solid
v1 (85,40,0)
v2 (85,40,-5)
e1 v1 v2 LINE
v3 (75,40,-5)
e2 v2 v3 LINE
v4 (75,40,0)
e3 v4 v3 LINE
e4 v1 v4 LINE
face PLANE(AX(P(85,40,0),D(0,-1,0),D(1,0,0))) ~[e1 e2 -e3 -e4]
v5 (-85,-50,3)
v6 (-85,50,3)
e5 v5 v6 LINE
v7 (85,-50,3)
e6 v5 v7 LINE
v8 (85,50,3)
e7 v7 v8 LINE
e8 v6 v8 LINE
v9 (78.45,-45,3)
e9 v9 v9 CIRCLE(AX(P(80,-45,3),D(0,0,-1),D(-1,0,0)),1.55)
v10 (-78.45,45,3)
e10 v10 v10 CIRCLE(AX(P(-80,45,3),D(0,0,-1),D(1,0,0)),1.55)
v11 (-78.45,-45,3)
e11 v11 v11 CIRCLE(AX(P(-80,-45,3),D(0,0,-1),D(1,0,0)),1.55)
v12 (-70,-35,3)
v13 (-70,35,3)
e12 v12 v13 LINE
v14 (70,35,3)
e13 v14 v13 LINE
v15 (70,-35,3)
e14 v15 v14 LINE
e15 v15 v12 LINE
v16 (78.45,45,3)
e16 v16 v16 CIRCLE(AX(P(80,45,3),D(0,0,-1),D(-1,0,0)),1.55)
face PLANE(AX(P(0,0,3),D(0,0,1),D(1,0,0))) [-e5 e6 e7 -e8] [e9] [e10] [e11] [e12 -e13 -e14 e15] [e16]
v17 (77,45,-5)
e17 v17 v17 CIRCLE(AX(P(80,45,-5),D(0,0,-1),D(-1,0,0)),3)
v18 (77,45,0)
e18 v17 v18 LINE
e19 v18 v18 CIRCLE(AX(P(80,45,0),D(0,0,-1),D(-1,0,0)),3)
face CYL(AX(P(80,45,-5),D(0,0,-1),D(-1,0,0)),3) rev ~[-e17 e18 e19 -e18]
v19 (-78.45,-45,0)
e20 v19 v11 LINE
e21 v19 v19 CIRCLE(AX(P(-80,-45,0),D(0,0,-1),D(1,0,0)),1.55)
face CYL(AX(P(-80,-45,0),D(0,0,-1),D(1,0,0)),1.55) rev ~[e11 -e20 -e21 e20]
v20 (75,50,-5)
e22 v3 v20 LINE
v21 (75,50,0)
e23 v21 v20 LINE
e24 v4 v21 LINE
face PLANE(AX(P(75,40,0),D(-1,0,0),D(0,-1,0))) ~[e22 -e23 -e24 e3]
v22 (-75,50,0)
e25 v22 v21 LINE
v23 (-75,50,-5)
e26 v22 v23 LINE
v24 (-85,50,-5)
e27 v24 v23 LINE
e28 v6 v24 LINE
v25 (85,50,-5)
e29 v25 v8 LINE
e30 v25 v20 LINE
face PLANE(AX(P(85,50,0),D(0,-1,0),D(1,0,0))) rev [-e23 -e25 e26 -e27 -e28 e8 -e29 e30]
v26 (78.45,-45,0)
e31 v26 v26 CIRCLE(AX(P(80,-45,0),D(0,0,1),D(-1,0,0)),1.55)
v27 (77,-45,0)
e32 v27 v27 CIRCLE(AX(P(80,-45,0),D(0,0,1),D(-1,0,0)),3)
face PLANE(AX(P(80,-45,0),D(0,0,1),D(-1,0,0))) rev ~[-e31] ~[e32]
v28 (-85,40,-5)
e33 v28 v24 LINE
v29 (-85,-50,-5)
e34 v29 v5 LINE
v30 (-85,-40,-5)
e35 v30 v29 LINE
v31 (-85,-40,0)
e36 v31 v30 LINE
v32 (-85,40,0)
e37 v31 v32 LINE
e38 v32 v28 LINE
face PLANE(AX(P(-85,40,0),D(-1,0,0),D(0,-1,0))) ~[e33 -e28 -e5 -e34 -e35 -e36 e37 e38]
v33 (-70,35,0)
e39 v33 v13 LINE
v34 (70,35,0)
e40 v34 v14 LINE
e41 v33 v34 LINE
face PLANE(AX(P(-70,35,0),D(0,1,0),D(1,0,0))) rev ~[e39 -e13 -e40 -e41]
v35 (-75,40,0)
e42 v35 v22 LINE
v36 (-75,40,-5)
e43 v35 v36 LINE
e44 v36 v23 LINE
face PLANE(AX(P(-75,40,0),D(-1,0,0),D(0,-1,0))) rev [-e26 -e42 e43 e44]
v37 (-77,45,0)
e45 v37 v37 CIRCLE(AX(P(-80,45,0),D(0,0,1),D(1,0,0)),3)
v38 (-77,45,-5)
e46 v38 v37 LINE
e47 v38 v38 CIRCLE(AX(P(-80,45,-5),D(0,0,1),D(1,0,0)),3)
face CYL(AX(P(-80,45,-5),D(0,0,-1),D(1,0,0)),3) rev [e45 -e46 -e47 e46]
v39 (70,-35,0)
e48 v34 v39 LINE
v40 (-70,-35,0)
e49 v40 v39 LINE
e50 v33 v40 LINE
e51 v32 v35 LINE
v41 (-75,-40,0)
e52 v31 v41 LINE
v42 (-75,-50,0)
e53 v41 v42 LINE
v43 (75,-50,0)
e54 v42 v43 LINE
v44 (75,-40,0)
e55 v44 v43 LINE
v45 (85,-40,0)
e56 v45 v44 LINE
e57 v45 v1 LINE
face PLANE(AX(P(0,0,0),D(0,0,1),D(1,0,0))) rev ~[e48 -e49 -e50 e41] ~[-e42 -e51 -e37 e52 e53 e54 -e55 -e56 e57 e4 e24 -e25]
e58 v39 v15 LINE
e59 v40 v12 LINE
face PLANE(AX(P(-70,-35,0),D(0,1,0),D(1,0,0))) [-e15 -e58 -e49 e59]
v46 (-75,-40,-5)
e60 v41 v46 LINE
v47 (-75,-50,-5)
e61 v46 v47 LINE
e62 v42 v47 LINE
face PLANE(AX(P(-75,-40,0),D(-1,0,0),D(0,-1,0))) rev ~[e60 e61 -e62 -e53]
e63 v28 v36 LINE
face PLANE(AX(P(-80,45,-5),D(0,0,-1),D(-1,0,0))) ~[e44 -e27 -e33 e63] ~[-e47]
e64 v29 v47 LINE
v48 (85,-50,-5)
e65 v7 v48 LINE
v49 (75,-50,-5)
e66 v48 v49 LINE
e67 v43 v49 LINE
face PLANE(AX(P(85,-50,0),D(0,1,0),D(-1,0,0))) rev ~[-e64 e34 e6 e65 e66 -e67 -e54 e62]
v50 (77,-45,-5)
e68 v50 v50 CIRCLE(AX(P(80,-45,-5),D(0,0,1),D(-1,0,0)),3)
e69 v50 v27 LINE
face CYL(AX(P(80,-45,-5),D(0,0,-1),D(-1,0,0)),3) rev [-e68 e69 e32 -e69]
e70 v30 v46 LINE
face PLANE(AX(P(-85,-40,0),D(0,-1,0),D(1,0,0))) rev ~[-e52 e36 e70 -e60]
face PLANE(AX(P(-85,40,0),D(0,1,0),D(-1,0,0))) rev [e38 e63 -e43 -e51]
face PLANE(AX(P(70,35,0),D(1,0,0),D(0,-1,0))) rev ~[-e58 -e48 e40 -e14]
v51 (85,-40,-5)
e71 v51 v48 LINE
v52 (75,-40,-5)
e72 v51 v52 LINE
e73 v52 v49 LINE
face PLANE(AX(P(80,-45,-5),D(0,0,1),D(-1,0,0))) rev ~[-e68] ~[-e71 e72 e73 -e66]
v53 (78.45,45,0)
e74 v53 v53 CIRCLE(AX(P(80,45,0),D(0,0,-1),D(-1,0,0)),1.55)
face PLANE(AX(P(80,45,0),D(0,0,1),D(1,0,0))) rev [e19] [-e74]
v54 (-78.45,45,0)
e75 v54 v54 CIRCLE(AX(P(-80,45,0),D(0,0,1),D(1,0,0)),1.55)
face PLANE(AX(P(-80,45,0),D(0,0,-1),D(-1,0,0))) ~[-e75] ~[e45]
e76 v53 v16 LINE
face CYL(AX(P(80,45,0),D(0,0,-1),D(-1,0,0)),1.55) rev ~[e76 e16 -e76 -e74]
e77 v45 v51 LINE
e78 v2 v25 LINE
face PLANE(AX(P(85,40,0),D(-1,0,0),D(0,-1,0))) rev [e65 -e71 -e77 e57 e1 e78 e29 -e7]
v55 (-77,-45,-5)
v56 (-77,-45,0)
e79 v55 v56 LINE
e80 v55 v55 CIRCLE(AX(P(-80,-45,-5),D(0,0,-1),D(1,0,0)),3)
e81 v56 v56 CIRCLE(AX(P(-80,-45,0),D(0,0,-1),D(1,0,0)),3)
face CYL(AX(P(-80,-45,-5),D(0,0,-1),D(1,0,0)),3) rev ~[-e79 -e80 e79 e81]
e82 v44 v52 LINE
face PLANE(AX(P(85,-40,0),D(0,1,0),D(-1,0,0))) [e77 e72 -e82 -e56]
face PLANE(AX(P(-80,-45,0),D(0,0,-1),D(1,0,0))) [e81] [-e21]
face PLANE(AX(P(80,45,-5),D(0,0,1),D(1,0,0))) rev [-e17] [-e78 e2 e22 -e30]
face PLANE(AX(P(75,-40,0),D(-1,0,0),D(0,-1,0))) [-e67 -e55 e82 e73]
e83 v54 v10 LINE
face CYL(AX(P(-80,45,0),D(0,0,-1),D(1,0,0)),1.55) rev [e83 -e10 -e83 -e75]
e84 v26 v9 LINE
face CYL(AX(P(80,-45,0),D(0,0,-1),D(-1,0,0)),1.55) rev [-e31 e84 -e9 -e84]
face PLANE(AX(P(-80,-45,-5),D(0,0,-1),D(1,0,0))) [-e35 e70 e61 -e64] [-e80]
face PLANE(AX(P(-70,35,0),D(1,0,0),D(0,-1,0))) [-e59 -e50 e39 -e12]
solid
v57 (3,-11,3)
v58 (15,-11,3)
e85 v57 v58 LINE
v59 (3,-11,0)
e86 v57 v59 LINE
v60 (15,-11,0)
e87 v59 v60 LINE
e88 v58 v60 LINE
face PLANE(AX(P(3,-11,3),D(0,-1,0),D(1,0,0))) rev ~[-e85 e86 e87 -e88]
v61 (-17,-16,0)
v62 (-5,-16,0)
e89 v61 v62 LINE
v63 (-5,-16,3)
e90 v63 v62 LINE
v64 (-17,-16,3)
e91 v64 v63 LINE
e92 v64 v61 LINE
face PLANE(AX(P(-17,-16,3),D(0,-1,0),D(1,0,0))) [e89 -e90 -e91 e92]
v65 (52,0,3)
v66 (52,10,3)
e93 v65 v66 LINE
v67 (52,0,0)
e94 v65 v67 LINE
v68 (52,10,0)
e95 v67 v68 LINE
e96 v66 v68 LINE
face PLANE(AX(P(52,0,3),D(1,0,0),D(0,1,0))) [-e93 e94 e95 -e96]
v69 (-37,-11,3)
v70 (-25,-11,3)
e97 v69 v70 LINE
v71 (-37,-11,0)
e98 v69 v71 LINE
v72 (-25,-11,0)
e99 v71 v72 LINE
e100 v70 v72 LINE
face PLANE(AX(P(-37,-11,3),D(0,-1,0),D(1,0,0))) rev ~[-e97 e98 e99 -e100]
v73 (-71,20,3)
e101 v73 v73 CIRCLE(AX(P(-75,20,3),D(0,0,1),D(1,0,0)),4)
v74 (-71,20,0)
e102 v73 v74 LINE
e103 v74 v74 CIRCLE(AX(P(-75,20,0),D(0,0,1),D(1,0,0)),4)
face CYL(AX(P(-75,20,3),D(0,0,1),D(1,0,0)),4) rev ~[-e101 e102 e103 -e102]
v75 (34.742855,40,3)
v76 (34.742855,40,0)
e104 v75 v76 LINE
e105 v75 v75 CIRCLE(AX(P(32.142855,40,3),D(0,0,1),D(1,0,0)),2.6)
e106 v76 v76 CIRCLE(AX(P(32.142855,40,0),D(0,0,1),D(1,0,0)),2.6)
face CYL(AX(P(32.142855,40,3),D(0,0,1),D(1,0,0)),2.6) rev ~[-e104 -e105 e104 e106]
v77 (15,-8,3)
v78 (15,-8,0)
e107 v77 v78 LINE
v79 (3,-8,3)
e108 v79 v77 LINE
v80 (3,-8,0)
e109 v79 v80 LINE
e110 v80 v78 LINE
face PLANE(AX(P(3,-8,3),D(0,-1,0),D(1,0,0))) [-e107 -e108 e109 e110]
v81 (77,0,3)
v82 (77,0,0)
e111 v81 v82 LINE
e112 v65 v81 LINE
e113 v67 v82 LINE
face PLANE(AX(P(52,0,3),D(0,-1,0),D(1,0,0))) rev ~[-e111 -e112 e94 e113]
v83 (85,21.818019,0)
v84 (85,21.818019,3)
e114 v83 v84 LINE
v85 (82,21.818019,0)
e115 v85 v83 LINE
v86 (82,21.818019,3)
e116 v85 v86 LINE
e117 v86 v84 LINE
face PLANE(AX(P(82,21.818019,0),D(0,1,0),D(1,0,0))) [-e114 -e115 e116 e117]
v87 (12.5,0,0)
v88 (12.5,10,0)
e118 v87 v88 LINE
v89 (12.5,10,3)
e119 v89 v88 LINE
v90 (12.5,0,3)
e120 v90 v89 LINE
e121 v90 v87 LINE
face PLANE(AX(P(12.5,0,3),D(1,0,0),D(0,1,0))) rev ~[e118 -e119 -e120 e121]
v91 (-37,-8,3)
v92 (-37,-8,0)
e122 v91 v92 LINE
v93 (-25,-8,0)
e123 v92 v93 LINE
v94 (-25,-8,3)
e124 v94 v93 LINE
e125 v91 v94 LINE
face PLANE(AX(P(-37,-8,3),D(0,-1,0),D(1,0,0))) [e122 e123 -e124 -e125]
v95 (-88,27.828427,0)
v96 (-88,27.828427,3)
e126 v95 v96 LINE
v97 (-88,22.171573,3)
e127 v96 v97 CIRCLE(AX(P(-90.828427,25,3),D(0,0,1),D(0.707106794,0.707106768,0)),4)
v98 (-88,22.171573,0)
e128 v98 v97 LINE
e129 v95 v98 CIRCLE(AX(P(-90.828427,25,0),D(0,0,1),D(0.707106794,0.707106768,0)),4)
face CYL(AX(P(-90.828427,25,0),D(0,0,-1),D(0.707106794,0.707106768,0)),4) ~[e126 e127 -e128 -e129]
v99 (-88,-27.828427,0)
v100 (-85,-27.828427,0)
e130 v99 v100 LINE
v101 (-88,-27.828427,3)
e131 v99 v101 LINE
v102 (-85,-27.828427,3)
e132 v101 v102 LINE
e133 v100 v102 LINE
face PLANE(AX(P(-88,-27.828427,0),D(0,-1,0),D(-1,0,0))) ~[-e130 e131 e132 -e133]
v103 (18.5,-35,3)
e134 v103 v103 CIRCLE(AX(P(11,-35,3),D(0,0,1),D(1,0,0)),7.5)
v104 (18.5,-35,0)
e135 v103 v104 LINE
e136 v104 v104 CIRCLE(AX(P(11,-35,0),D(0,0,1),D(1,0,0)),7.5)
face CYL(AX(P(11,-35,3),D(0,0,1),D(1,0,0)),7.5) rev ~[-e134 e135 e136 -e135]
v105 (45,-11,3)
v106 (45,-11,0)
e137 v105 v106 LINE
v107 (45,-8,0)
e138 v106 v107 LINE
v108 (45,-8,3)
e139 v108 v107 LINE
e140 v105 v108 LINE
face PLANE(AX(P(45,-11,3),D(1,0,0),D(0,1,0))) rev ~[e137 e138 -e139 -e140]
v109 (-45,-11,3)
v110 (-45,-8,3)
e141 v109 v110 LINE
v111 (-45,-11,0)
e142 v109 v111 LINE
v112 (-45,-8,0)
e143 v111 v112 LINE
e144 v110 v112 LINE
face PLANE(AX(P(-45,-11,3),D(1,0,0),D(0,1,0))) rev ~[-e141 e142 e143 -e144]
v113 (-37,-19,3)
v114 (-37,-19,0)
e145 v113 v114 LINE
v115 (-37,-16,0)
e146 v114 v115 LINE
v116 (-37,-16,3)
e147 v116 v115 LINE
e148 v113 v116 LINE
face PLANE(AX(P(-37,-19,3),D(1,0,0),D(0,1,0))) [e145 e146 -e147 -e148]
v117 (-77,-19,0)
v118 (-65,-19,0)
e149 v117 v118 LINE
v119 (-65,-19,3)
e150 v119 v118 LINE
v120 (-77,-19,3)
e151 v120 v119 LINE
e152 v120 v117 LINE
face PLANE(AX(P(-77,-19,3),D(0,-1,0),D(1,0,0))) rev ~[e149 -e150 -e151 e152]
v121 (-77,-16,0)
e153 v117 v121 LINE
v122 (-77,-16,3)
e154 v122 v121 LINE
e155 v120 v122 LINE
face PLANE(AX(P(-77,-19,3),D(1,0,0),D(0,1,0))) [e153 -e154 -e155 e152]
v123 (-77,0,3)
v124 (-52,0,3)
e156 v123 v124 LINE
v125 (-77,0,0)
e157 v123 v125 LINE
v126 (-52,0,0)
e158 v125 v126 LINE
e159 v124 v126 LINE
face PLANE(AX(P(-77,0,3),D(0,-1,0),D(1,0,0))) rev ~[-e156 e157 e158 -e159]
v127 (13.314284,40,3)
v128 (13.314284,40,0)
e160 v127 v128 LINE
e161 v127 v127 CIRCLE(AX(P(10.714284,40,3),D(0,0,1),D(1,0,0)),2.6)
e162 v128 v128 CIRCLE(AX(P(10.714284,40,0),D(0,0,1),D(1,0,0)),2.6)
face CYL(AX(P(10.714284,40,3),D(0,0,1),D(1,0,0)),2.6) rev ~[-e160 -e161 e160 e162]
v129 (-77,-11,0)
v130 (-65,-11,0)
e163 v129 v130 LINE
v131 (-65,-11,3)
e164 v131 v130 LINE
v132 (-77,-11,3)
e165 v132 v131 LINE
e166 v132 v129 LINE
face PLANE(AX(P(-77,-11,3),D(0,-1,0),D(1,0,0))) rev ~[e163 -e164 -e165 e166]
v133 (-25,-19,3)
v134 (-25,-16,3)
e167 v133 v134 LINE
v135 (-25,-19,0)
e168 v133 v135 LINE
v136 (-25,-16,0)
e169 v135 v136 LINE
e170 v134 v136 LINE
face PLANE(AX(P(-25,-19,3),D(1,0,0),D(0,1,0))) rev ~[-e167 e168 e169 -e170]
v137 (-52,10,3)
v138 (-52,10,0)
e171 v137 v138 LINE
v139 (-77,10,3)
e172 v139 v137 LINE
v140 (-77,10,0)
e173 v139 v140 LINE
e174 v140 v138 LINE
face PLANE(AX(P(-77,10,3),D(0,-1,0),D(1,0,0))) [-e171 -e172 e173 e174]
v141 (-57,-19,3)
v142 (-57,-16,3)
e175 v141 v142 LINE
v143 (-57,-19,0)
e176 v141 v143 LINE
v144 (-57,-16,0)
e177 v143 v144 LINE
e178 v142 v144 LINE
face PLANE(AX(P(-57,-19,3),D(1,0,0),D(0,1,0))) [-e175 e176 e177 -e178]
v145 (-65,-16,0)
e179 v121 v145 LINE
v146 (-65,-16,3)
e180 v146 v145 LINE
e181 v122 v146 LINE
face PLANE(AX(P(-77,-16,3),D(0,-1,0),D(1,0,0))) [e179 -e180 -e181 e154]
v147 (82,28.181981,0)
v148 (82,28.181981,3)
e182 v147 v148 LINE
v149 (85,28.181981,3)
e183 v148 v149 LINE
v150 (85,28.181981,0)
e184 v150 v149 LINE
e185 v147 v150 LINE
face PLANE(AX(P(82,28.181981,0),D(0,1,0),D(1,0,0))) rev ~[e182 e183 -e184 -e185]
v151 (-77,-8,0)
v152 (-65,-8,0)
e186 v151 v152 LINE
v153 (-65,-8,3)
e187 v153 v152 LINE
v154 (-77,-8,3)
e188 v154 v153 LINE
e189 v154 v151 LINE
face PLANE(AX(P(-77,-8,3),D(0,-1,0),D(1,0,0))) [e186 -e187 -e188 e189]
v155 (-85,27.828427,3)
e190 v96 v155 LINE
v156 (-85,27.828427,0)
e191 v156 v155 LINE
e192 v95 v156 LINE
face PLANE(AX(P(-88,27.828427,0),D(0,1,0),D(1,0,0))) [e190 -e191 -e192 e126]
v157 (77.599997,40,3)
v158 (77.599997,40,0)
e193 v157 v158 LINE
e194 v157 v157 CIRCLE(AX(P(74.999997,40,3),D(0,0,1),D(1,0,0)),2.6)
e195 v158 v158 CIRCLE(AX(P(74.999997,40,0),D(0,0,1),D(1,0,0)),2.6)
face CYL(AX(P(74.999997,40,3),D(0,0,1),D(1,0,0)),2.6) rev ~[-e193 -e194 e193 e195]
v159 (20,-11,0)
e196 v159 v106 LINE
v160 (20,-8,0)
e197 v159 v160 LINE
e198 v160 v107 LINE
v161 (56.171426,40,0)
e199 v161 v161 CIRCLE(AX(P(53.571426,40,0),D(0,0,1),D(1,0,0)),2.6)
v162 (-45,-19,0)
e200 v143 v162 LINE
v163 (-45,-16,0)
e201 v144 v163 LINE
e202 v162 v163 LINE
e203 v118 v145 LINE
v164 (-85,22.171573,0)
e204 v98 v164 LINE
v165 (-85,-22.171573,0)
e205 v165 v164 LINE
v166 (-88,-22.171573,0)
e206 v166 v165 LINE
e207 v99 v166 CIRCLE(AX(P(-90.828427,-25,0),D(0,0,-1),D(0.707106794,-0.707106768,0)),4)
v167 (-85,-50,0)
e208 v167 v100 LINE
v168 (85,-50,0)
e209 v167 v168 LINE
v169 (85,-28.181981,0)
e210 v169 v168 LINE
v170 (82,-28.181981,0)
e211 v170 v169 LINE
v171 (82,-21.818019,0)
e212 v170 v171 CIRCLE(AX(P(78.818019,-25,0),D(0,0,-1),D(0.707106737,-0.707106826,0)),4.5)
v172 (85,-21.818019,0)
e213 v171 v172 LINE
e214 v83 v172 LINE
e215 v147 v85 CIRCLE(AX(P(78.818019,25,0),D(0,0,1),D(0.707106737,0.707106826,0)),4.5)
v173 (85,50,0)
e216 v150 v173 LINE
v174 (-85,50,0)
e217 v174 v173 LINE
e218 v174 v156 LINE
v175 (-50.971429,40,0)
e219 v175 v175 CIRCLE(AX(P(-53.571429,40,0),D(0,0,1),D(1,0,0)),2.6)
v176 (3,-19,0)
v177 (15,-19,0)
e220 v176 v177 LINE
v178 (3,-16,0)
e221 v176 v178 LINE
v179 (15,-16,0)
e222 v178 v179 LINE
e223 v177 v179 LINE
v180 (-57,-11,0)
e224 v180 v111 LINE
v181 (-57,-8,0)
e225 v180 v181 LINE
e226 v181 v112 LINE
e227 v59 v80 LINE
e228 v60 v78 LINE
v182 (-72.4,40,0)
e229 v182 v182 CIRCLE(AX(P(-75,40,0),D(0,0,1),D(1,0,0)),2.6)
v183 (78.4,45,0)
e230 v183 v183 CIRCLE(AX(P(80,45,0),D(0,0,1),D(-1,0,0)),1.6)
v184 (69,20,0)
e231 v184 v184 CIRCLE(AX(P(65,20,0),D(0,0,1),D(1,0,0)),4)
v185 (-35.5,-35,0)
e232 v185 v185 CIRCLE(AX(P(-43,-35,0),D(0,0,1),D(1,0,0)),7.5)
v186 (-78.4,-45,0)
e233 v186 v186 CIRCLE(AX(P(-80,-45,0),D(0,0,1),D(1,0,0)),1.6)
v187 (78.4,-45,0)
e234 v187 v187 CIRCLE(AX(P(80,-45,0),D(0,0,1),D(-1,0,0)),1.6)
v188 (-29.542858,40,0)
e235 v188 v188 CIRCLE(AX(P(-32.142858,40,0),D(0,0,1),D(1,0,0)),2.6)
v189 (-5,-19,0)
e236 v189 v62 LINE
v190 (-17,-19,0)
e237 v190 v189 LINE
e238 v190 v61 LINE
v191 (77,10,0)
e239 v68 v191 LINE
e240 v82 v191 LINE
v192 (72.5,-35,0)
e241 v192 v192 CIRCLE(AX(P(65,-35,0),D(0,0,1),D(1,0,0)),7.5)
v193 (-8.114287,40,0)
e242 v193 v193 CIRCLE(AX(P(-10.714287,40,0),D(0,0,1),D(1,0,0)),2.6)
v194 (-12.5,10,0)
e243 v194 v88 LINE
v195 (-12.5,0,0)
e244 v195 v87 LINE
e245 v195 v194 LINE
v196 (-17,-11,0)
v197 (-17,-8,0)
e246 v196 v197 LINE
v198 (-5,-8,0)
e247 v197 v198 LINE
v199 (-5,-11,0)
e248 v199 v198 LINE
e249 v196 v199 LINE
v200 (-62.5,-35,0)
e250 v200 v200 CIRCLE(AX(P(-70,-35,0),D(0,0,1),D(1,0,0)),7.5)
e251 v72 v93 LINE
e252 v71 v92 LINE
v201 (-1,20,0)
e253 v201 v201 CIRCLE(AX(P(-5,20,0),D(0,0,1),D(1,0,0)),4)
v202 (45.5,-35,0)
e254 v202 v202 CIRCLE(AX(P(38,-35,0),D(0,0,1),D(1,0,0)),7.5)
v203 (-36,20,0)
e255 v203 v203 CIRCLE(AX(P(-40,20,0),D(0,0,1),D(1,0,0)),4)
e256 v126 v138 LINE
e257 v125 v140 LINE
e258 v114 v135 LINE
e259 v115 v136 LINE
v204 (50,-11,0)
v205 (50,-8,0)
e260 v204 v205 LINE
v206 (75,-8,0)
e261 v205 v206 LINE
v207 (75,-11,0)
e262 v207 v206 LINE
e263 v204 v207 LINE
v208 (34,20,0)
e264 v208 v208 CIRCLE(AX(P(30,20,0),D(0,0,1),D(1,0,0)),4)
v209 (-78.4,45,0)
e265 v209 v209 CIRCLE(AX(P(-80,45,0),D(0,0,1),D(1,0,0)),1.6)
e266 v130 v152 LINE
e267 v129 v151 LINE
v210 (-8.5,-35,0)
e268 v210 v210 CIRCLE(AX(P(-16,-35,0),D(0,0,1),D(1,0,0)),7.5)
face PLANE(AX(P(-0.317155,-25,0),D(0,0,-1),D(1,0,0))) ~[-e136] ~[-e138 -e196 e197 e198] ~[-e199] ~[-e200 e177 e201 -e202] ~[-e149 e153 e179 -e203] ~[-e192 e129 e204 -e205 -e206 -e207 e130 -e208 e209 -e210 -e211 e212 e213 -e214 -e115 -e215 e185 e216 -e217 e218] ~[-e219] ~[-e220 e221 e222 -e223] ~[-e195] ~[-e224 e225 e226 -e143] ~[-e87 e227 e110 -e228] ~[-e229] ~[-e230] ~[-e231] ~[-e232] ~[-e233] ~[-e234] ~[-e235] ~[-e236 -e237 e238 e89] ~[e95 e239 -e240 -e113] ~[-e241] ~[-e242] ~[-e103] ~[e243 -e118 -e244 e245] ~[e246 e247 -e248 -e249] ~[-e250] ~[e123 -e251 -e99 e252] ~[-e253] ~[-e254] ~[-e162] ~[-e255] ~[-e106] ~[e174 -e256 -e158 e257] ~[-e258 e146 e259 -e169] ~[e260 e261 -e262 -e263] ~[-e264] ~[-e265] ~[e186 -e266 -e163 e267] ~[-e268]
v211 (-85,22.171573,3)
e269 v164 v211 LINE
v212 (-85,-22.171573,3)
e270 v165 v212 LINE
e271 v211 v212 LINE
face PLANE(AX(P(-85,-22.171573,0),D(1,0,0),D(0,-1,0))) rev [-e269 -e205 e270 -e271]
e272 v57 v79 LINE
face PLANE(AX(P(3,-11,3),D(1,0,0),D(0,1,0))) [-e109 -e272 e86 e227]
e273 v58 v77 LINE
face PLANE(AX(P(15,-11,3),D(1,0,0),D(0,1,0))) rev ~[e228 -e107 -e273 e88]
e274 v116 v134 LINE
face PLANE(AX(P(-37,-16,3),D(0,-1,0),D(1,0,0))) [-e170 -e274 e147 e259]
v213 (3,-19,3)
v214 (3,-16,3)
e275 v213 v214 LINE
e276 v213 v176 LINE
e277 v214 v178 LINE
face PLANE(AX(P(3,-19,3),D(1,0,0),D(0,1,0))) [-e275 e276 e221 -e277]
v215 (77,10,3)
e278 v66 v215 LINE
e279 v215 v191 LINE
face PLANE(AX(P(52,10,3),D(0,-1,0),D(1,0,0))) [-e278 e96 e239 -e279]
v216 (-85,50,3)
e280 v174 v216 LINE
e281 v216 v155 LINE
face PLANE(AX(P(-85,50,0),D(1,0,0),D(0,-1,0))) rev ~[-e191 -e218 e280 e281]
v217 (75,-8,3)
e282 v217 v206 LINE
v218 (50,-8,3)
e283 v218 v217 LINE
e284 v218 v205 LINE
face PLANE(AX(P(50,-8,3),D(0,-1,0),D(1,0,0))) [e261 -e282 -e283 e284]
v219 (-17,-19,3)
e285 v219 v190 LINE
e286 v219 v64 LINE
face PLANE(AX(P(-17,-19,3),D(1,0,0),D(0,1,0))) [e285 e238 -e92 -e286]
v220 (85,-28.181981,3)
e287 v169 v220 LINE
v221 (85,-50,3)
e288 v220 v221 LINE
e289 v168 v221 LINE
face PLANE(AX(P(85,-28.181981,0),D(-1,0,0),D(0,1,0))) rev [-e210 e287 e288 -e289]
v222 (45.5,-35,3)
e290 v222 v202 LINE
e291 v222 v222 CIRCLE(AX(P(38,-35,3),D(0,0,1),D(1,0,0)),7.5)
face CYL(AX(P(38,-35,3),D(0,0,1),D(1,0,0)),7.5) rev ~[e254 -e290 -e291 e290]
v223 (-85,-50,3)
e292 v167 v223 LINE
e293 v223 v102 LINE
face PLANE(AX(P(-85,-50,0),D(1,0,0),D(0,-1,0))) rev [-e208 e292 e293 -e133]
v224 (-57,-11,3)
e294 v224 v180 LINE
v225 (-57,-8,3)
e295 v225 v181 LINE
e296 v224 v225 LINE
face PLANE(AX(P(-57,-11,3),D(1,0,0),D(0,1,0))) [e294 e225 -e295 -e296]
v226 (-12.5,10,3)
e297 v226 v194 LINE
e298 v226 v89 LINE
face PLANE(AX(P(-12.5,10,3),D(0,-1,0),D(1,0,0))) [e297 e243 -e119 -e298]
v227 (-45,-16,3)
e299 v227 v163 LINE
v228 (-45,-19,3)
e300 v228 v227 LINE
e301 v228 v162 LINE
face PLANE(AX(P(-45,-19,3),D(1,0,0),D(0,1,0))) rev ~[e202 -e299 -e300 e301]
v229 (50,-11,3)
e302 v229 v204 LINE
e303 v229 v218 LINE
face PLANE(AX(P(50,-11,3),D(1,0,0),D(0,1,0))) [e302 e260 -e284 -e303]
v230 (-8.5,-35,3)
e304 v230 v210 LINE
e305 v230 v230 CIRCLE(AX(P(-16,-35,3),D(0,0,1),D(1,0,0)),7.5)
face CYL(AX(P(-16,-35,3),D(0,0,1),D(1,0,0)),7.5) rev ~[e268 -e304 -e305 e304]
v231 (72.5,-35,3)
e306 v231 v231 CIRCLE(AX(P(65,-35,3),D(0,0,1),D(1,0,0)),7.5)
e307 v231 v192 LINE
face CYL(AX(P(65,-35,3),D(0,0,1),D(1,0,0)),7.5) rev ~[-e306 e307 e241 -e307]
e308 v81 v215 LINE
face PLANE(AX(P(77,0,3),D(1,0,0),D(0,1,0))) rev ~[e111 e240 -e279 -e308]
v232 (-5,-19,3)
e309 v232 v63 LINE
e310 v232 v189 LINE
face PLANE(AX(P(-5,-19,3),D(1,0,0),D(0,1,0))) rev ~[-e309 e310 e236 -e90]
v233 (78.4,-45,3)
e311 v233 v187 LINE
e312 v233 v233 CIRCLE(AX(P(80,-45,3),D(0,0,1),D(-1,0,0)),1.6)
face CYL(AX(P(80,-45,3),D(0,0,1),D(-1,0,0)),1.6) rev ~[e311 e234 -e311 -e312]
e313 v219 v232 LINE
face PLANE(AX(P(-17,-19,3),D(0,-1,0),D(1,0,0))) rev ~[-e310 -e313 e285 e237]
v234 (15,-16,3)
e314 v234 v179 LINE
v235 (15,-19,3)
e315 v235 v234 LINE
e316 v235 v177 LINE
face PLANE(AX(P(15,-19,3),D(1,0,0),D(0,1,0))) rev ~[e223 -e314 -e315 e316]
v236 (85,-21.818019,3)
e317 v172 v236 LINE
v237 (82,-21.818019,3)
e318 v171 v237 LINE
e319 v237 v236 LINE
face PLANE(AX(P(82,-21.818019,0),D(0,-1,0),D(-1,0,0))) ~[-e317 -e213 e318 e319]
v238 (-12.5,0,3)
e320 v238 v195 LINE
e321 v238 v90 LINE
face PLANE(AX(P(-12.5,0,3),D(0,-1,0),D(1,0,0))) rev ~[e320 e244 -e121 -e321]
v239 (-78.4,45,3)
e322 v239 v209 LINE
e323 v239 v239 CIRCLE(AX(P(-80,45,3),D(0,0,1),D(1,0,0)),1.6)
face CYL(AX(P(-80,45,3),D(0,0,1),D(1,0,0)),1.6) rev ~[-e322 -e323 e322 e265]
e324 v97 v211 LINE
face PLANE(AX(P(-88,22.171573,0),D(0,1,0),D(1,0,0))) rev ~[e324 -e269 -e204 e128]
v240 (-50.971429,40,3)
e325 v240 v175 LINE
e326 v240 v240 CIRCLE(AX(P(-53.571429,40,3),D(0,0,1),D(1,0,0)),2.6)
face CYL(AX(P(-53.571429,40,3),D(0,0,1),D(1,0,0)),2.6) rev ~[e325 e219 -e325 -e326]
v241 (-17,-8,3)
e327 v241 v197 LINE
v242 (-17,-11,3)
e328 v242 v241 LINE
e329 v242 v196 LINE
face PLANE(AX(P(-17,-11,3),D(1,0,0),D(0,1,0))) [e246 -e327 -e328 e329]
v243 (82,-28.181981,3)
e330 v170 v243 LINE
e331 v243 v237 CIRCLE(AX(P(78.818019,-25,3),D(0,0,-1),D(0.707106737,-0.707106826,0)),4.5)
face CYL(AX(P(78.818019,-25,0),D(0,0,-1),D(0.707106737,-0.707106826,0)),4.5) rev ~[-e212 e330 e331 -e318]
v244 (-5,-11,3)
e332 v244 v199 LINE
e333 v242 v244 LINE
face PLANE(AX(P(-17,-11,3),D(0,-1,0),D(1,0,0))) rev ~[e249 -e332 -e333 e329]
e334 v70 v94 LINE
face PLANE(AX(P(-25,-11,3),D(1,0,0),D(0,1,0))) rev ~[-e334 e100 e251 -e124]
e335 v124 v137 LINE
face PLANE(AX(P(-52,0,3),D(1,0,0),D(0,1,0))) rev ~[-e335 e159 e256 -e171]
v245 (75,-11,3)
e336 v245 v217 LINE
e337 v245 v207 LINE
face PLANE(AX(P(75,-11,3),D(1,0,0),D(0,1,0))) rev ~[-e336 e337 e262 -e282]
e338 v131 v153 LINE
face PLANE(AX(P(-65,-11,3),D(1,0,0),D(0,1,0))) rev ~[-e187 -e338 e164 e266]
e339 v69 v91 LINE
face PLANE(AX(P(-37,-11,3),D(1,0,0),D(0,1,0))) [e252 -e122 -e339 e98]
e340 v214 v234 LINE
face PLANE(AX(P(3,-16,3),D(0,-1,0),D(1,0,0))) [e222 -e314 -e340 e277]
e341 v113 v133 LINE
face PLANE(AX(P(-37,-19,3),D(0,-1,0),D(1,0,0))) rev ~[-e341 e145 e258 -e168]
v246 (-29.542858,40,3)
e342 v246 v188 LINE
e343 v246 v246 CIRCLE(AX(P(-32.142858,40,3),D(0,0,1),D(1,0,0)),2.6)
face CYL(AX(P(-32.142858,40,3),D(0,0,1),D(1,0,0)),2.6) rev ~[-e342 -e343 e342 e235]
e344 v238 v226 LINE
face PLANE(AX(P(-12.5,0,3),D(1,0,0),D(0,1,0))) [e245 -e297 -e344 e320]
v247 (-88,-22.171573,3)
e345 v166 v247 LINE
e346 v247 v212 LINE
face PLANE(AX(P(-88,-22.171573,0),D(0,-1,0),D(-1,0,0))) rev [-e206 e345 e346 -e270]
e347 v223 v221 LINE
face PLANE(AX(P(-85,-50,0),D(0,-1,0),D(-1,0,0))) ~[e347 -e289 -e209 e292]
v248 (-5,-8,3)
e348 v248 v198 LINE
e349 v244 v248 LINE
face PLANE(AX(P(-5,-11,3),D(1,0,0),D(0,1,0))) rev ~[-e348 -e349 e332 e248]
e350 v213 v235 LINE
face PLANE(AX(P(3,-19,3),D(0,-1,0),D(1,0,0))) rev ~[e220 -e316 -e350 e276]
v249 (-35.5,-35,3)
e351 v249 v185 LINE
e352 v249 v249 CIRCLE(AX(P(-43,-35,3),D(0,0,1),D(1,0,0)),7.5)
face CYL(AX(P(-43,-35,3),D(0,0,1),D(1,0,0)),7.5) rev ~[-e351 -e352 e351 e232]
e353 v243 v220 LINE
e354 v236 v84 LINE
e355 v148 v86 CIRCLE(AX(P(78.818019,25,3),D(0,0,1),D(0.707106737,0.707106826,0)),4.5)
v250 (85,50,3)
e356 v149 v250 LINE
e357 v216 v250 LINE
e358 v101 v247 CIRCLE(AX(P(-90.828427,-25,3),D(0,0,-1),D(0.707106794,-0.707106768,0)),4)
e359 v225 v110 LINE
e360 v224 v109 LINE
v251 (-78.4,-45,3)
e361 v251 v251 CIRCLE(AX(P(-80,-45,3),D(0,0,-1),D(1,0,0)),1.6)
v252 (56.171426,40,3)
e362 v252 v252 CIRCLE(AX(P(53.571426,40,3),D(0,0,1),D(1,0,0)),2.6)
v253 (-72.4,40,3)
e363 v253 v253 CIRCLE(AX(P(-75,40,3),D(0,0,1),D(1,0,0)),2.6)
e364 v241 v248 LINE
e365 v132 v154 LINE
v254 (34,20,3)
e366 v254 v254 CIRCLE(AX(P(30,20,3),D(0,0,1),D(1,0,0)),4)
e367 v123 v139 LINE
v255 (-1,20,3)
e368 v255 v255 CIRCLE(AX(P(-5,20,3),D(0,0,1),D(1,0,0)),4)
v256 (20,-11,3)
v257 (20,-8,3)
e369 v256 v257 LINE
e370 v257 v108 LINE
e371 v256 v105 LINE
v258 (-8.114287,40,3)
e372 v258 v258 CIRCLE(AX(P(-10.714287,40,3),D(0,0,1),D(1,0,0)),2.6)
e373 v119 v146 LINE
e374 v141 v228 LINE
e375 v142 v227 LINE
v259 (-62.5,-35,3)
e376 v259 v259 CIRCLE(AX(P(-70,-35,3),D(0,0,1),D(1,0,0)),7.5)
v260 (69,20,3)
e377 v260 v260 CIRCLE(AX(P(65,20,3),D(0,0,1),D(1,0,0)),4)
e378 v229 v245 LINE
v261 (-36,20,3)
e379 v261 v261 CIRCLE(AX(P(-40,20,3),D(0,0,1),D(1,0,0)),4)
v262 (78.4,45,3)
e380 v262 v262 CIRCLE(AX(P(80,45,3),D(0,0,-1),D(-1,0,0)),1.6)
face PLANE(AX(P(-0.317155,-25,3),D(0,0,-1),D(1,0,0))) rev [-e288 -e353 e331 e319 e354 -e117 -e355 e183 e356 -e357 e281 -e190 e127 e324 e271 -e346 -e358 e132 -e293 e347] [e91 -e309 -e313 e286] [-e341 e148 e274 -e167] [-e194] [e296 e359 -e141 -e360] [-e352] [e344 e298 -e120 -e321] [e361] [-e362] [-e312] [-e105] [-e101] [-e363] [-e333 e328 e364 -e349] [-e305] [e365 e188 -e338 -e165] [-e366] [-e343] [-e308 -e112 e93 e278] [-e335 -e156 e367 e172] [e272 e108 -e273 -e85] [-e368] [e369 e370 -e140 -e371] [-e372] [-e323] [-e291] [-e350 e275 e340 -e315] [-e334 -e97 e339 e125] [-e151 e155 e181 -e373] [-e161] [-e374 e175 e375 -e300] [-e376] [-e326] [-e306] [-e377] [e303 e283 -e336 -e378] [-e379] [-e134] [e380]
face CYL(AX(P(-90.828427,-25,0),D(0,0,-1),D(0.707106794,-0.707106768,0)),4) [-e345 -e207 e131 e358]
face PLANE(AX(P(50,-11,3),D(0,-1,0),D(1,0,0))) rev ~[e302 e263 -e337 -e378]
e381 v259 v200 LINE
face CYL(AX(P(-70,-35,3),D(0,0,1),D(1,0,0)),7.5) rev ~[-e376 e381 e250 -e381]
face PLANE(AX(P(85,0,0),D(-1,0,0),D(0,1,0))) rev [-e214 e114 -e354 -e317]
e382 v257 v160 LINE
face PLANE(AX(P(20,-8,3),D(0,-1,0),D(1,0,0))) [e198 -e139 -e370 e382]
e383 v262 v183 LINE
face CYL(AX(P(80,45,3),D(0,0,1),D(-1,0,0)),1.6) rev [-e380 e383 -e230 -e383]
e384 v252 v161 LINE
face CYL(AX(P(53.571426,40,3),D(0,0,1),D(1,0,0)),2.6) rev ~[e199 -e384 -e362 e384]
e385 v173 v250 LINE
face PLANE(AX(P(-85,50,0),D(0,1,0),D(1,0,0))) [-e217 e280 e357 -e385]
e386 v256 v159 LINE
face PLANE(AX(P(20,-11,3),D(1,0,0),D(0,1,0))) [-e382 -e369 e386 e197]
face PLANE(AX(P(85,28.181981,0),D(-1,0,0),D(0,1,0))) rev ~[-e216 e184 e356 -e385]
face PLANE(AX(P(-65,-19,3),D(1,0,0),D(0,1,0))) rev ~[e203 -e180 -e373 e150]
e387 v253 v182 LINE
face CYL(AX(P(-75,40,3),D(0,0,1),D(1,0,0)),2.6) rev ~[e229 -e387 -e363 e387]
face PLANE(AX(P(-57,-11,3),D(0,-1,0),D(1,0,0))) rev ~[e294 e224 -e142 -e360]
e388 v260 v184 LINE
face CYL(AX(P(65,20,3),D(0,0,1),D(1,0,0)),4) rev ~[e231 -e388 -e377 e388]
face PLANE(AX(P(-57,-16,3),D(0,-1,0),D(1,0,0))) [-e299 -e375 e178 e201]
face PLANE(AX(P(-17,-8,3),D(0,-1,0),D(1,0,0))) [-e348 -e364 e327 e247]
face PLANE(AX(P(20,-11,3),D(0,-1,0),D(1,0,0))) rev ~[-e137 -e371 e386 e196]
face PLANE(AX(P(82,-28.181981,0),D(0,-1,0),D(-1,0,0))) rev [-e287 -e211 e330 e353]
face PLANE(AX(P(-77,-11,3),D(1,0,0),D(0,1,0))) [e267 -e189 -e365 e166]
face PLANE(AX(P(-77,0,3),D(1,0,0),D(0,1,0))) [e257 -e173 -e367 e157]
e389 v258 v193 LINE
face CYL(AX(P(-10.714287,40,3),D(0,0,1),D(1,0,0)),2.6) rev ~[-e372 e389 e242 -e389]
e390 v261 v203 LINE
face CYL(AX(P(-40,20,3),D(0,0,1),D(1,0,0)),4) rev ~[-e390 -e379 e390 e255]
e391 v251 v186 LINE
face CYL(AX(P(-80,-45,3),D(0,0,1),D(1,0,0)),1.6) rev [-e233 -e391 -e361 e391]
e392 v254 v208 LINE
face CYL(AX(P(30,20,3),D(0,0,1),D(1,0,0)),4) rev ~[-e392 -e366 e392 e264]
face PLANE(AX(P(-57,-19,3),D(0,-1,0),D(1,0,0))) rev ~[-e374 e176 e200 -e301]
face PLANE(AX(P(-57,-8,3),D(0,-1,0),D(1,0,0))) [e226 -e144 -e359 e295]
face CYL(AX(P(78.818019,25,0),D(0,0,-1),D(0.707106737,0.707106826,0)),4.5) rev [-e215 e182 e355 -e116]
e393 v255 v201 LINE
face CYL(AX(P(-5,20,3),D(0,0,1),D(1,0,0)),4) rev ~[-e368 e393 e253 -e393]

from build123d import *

# Parameters (mm, degrees)
PAD_DEPTH                          = 3
SKETCH011_R                        = 1.6
POCKET_DEPTH                       = 414.570013
SKETCH011_MIRRORED009_2_R          = 1.6
POCKET_MIRRORED009_2_DEPTH         = 414.570013
SKETCH012_R                        = 2.6
POCKET008_DEPTH                    = 3.001
LINEARPATTERN_COUNT                = 8
LINEARPATTERN_PITCH                = 21.428571
SKETCH013_R                        = 4
POCKET009_DEPTH                    = 3.001
LINEARPATTERN001_COUNT             = 5
LINEARPATTERN001_PITCH             = 35
SKETCH014_R                        = 7.5
POCKET010_DEPTH                    = 3.001
LINEARPATTERN002_COUNT             = 6
LINEARPATTERN002_PITCH             = 27
SKETCH015_W                        = 12
SKETCH015_H                        = 3
POCKET011_DEPTH                    = 3.001
LINEARPATTERN003_COUNT             = 5
LINEARPATTERN003_PITCH             = 20
SKETCH016_W                        = 25
SKETCH016_H                        = 10
POCKET012_DEPTH                    = 3.001
LINEARPATTERN004_COUNT             = 3
LINEARPATTERN004_PITCH             = 64.5
SKETCH017_W                        = 25
SKETCH017_H                        = 3
POCKET013_DEPTH                    = 414.570013
LINEARPATTERN005_COUNT             = 2
LINEARPATTERN005_PITCH             = 30
SKETCH007_W                        = 170
SKETCH007_H                        = 100
PAD001_DEPTH                       = 3
SKETCH008_R                        = 1.55
POCKET006_DEPTH                    = 397.508288
POCKET006_DEPTH_BACK               = -394.508288
SKETCH008_MIRRORED003_2_R          = 1.55
POCKET006_MIRRORED003_2_DEPTH      = 397.508288
POCKET006_MIRRORED003_2_DEPTH_BACK = 394.508288
SKETCH009_W                        = 10
SKETCH009_H                        = 10
PAD002_DEPTH                       = 5
SKETCH009_MIRRORED005_2_W          = 10
SKETCH009_MIRRORED005_2_H          = 10
PAD002_MIRRORED005_2_DEPTH         = 5
SKETCH010_R                        = 3
POCKET007_DEPTH                    = 5
SKETCH010_MIRRORED007_2_R          = 3
POCKET007_MIRRORED007_2_DEPTH      = 5
SKETCH018_W                        = 140
SKETCH018_H                        = 70
POCKET014_DEPTH                    = 3.001


with BuildPart() as up:
    # Sketch → Pad (new body)
    with BuildSketch(Plane.XY):
        with BuildLine():
            Line((-85, 50), (85, 50))
            Line((85, 28.181981), (85, 50))
            Line((82, 28.181981), (85, 28.181981))
            ThreePointArc((82, 28.181981), (74.318019, 25), (82, 21.818019))
            Line((82, 21.818019), (85, 21.818019))
            Line((85, 0), (85, 21.818019))
            Line((85, 0), (-85, 0))
            Line((-85, 22.171573), (-85, 0))
            Line((-88, 22.171573), (-85, 22.171573))
            ThreePointArc((-88, 27.828427), (-94.828427, 25), (-88, 22.171573))
            Line((-88, 27.828427), (-85, 27.828427))
            Line((-85, 50), (-85, 27.828427))
        make_face()
    pad = extrude(amount=PAD_DEPTH)

    # Mirrored: Pad across Sketch H_Axis
    add(pad.mirror(Plane.ZX))

    # Sketch011 (on Face1 of Copyrefine) → Pocket (cut, through all)
    with BuildSketch(Plane.XY.offset(3)):
        with Locations((-80, 45)):
            Circle(SKETCH011_R)
    pocket = extrude(amount=-POCKET_DEPTH, mode=Mode.SUBTRACT)

    # Sketch011 Mirrored009 2 → Pocket Mirrored009 2 (cut, through all)
    with BuildSketch(Plane(origin=(0, 0, 3), x_dir=(-1, 0, 0), z_dir=(0, 0, -1))):
        with Locations((-80, 45)):
            Circle(SKETCH011_MIRRORED009_2_R)
    pocket_mirrored009_2 = extrude(amount=POCKET_MIRRORED009_2_DEPTH, mode=Mode.SUBTRACT)

    # Mirrored010: Pocket, Pocket Mirrored009 2 across Sketch011 H_Axis
    add(pocket.mirror(Plane(origin=(0, 0, 3), x_dir=(0, 0, 1), z_dir=(0, 1, 0))), mode=Mode.SUBTRACT)
    add(pocket_mirrored009_2.mirror(Plane(origin=(0, 0, 3), x_dir=(0, 0, 1), z_dir=(0, 1, 0))), mode=Mode.SUBTRACT)

    # Sketch012 (on Face5 of MultiTransform) → Pocket008 (cut, through all)
    with BuildSketch(Plane.XY.offset(3)):
        with Locations((-75, 40)):
            Circle(SKETCH012_R)
    pocket008 = extrude(amount=-POCKET008_DEPTH, mode=Mode.SUBTRACT)

    # LinearPattern: Pocket008 ×8
    with Locations(*[(i * LINEARPATTERN_PITCH, 0, 0) for i in range(1, LINEARPATTERN_COUNT)]):
        add(pocket008, mode=Mode.SUBTRACT)

    # Sketch013 (on Face5 of LinearPattern) → Pocket009 (cut, through all)
    with BuildSketch(Plane.XY.offset(3)):
        with Locations((-75, 20)):
            Circle(SKETCH013_R)
    pocket009 = extrude(amount=-POCKET009_DEPTH, mode=Mode.SUBTRACT)

    # LinearPattern001: Pocket009 ×5
    with Locations(*[(i * LINEARPATTERN001_PITCH, 0, 0) for i in range(1, LINEARPATTERN001_COUNT)]):
        add(pocket009, mode=Mode.SUBTRACT)

    # Sketch014 (on Face30 of LinearPattern001) → Pocket010 (cut, through all)
    with BuildSketch(Plane.XY.offset(3)):
        with Locations((-70, -35)):
            Circle(SKETCH014_R)
    pocket010 = extrude(amount=-POCKET010_DEPTH, mode=Mode.SUBTRACT)

    # LinearPattern002: Pocket010 ×6
    with Locations(*[(i * LINEARPATTERN002_PITCH, 0, 0) for i in range(1, LINEARPATTERN002_COUNT)]):
        add(pocket010, mode=Mode.SUBTRACT)

    # Sketch015 (on Face30 of LinearPattern002) → Pocket011 (cut, through all)
    with BuildSketch(Plane.XY.offset(3)):
        with Locations((-71, -9.5)):
            Rectangle(SKETCH015_W, SKETCH015_H)
        with Locations((-71, -17.5)):
            Rectangle(SKETCH015_W, SKETCH015_H)
    pocket011 = extrude(amount=-POCKET011_DEPTH, mode=Mode.SUBTRACT)

    # LinearPattern003: Pocket011 ×5
    with Locations(*[(i * LINEARPATTERN003_PITCH, 0, 0) for i in range(1, LINEARPATTERN003_COUNT)]):
        add(pocket011, mode=Mode.SUBTRACT)

    # Sketch016 (on Face5 of LinearPattern003) → Pocket012 (cut, through all)
    with BuildSketch(Plane.XY.offset(3)):
        with Locations((-64.5, 5)):
            Rectangle(SKETCH016_W, SKETCH016_H)
    pocket012 = extrude(amount=-POCKET012_DEPTH, mode=Mode.SUBTRACT)

    # LinearPattern004: Pocket012 ×3
    with Locations(*[(i * LINEARPATTERN004_PITCH, 0, 0) for i in range(1, LINEARPATTERN004_COUNT)]):
        add(pocket012, mode=Mode.SUBTRACT)

    # Sketch017 (on Face39 of LinearPattern004) → Pocket013 (cut, through all)
    with BuildSketch(Plane.XY.offset(3)):
        with Locations((32.5, -9.5)):
            Rectangle(SKETCH017_W, SKETCH017_H)
    pocket013 = extrude(amount=-POCKET013_DEPTH, mode=Mode.SUBTRACT)

    # LinearPattern005: Pocket013 ×2
    with Locations(*[(i * LINEARPATTERN005_PITCH, 0, 0) for i in range(1, LINEARPATTERN005_COUNT)]):
        add(pocket013, mode=Mode.SUBTRACT)


with BuildPart() as down:
    # Sketch007 → Pad001 (new body)
    with BuildSketch(Plane.XY):
        Rectangle(SKETCH007_W, SKETCH007_H)
    extrude(amount=PAD001_DEPTH)

    # Sketch008 (on Face5 of Pad001) → Pocket006 (cut, two sides)
    with BuildSketch(Plane(origin=(0, 0, 0), x_dir=(1, 0, 0), z_dir=(0, 0, -1))) as pocket006_sk:
        with Locations((-80, 45)):
            Circle(SKETCH008_R)
    pocket006 = extrude(amount=-POCKET006_DEPTH, mode=Mode.SUBTRACT)
    extrude(pocket006_sk.sketch, amount=-POCKET006_DEPTH_BACK, mode=Mode.SUBTRACT)

    # Sketch008 Mirrored003 2 → Pocket006 Mirrored003 2 (cut, two sides)
    with BuildSketch(Plane(origin=(0, 0, 0), x_dir=(-1, 0, 0), z_dir=(0, 0, 1))) as pocket006_mirrored003_2_sk:
        with Locations((-80, 45)):
            Circle(SKETCH008_MIRRORED003_2_R)
    pocket006_mirrored003_2 = extrude(amount=POCKET006_MIRRORED003_2_DEPTH, mode=Mode.SUBTRACT)
    extrude(pocket006_mirrored003_2_sk.sketch, amount=-POCKET006_MIRRORED003_2_DEPTH_BACK, mode=Mode.SUBTRACT)

    # Mirrored004: Pocket006, Pocket006 Mirrored003 2 across Sketch008 H_Axis
    add(pocket006.mirror(Plane(origin=(0, 0, 0), x_dir=(0, 0, -1), z_dir=(0, -1, 0))), mode=Mode.SUBTRACT)
    add(pocket006_mirrored003_2.mirror(Plane(origin=(0, 0, 0), x_dir=(0, 0, -1), z_dir=(0, -1, 0))), mode=Mode.SUBTRACT)

    # Sketch009 (on Face4 of MultiTransform002) → Pad002 (join)
    with BuildSketch(Plane(origin=(0, 0, 0), x_dir=(1, 0, 0), z_dir=(0, 0, -1))):
        with Locations((-80, 45)):
            Rectangle(SKETCH009_W, SKETCH009_H)
    pad002 = extrude(amount=PAD002_DEPTH)

    # Sketch009 Mirrored005 2 → Pad002 Mirrored005 2 (add)
    with BuildSketch(Plane(origin=(0, 0, 0), x_dir=(-1, 0, 0), z_dir=(0, 0, 1))):
        with Locations((-80, 45)):
            Rectangle(SKETCH009_MIRRORED005_2_W, SKETCH009_MIRRORED005_2_H)
    pad002_mirrored005_2 = extrude(amount=-PAD002_MIRRORED005_2_DEPTH)

    # Mirrored006: Pad002, Pad002 Mirrored005 2 across Sketch009 H_Axis
    add(pad002.mirror(Plane(origin=(0, 0, 0), x_dir=(0, 0, -1), z_dir=(0, -1, 0))))
    add(pad002_mirrored005_2.mirror(Plane(origin=(0, 0, 0), x_dir=(0, 0, -1), z_dir=(0, -1, 0))))

    # Sketch010 (on Face33 of MultiTransform003) → Pocket007 (cut)
    with BuildSketch(Plane(origin=(0, 0, -5), x_dir=(1, 0, 0), z_dir=(0, 0, -1))):
        with Locations((-80, 45)):
            Circle(SKETCH010_R)
    pocket007 = extrude(amount=-POCKET007_DEPTH, mode=Mode.SUBTRACT)

    # Sketch010 Mirrored007 2 → Pocket007 Mirrored007 2 (cut)
    with BuildSketch(Plane(origin=(0, 0, -5), x_dir=(-1, 0, 0), z_dir=(0, 0, 1))):
        with Locations((-80, 45)):
            Circle(SKETCH010_MIRRORED007_2_R)
    pocket007_mirrored007_2 = extrude(amount=POCKET007_MIRRORED007_2_DEPTH, mode=Mode.SUBTRACT)

    # Mirrored008: Pocket007, Pocket007 Mirrored007 2 across Sketch010 H_Axis
    add(pocket007.mirror(Plane(origin=(0, 0, -5), x_dir=(0, 0, -1), z_dir=(0, -1, 0))), mode=Mode.SUBTRACT)
    add(pocket007_mirrored007_2.mirror(Plane(origin=(0, 0, -5), x_dir=(0, 0, -1), z_dir=(0, -1, 0))), mode=Mode.SUBTRACT)

    # Sketch018 (on Face11 of MultiTransform004) → Pocket014 (cut, through all)
    with BuildSketch(Plane(origin=(0, 0, 0), x_dir=(1, 0, 0), z_dir=(0, 0, -1))):
        Rectangle(SKETCH018_W, SKETCH018_H)
    extrude(amount=-POCKET014_DEPTH, mode=Mode.SUBTRACT)


solid = Compound([up.part, down.part])
